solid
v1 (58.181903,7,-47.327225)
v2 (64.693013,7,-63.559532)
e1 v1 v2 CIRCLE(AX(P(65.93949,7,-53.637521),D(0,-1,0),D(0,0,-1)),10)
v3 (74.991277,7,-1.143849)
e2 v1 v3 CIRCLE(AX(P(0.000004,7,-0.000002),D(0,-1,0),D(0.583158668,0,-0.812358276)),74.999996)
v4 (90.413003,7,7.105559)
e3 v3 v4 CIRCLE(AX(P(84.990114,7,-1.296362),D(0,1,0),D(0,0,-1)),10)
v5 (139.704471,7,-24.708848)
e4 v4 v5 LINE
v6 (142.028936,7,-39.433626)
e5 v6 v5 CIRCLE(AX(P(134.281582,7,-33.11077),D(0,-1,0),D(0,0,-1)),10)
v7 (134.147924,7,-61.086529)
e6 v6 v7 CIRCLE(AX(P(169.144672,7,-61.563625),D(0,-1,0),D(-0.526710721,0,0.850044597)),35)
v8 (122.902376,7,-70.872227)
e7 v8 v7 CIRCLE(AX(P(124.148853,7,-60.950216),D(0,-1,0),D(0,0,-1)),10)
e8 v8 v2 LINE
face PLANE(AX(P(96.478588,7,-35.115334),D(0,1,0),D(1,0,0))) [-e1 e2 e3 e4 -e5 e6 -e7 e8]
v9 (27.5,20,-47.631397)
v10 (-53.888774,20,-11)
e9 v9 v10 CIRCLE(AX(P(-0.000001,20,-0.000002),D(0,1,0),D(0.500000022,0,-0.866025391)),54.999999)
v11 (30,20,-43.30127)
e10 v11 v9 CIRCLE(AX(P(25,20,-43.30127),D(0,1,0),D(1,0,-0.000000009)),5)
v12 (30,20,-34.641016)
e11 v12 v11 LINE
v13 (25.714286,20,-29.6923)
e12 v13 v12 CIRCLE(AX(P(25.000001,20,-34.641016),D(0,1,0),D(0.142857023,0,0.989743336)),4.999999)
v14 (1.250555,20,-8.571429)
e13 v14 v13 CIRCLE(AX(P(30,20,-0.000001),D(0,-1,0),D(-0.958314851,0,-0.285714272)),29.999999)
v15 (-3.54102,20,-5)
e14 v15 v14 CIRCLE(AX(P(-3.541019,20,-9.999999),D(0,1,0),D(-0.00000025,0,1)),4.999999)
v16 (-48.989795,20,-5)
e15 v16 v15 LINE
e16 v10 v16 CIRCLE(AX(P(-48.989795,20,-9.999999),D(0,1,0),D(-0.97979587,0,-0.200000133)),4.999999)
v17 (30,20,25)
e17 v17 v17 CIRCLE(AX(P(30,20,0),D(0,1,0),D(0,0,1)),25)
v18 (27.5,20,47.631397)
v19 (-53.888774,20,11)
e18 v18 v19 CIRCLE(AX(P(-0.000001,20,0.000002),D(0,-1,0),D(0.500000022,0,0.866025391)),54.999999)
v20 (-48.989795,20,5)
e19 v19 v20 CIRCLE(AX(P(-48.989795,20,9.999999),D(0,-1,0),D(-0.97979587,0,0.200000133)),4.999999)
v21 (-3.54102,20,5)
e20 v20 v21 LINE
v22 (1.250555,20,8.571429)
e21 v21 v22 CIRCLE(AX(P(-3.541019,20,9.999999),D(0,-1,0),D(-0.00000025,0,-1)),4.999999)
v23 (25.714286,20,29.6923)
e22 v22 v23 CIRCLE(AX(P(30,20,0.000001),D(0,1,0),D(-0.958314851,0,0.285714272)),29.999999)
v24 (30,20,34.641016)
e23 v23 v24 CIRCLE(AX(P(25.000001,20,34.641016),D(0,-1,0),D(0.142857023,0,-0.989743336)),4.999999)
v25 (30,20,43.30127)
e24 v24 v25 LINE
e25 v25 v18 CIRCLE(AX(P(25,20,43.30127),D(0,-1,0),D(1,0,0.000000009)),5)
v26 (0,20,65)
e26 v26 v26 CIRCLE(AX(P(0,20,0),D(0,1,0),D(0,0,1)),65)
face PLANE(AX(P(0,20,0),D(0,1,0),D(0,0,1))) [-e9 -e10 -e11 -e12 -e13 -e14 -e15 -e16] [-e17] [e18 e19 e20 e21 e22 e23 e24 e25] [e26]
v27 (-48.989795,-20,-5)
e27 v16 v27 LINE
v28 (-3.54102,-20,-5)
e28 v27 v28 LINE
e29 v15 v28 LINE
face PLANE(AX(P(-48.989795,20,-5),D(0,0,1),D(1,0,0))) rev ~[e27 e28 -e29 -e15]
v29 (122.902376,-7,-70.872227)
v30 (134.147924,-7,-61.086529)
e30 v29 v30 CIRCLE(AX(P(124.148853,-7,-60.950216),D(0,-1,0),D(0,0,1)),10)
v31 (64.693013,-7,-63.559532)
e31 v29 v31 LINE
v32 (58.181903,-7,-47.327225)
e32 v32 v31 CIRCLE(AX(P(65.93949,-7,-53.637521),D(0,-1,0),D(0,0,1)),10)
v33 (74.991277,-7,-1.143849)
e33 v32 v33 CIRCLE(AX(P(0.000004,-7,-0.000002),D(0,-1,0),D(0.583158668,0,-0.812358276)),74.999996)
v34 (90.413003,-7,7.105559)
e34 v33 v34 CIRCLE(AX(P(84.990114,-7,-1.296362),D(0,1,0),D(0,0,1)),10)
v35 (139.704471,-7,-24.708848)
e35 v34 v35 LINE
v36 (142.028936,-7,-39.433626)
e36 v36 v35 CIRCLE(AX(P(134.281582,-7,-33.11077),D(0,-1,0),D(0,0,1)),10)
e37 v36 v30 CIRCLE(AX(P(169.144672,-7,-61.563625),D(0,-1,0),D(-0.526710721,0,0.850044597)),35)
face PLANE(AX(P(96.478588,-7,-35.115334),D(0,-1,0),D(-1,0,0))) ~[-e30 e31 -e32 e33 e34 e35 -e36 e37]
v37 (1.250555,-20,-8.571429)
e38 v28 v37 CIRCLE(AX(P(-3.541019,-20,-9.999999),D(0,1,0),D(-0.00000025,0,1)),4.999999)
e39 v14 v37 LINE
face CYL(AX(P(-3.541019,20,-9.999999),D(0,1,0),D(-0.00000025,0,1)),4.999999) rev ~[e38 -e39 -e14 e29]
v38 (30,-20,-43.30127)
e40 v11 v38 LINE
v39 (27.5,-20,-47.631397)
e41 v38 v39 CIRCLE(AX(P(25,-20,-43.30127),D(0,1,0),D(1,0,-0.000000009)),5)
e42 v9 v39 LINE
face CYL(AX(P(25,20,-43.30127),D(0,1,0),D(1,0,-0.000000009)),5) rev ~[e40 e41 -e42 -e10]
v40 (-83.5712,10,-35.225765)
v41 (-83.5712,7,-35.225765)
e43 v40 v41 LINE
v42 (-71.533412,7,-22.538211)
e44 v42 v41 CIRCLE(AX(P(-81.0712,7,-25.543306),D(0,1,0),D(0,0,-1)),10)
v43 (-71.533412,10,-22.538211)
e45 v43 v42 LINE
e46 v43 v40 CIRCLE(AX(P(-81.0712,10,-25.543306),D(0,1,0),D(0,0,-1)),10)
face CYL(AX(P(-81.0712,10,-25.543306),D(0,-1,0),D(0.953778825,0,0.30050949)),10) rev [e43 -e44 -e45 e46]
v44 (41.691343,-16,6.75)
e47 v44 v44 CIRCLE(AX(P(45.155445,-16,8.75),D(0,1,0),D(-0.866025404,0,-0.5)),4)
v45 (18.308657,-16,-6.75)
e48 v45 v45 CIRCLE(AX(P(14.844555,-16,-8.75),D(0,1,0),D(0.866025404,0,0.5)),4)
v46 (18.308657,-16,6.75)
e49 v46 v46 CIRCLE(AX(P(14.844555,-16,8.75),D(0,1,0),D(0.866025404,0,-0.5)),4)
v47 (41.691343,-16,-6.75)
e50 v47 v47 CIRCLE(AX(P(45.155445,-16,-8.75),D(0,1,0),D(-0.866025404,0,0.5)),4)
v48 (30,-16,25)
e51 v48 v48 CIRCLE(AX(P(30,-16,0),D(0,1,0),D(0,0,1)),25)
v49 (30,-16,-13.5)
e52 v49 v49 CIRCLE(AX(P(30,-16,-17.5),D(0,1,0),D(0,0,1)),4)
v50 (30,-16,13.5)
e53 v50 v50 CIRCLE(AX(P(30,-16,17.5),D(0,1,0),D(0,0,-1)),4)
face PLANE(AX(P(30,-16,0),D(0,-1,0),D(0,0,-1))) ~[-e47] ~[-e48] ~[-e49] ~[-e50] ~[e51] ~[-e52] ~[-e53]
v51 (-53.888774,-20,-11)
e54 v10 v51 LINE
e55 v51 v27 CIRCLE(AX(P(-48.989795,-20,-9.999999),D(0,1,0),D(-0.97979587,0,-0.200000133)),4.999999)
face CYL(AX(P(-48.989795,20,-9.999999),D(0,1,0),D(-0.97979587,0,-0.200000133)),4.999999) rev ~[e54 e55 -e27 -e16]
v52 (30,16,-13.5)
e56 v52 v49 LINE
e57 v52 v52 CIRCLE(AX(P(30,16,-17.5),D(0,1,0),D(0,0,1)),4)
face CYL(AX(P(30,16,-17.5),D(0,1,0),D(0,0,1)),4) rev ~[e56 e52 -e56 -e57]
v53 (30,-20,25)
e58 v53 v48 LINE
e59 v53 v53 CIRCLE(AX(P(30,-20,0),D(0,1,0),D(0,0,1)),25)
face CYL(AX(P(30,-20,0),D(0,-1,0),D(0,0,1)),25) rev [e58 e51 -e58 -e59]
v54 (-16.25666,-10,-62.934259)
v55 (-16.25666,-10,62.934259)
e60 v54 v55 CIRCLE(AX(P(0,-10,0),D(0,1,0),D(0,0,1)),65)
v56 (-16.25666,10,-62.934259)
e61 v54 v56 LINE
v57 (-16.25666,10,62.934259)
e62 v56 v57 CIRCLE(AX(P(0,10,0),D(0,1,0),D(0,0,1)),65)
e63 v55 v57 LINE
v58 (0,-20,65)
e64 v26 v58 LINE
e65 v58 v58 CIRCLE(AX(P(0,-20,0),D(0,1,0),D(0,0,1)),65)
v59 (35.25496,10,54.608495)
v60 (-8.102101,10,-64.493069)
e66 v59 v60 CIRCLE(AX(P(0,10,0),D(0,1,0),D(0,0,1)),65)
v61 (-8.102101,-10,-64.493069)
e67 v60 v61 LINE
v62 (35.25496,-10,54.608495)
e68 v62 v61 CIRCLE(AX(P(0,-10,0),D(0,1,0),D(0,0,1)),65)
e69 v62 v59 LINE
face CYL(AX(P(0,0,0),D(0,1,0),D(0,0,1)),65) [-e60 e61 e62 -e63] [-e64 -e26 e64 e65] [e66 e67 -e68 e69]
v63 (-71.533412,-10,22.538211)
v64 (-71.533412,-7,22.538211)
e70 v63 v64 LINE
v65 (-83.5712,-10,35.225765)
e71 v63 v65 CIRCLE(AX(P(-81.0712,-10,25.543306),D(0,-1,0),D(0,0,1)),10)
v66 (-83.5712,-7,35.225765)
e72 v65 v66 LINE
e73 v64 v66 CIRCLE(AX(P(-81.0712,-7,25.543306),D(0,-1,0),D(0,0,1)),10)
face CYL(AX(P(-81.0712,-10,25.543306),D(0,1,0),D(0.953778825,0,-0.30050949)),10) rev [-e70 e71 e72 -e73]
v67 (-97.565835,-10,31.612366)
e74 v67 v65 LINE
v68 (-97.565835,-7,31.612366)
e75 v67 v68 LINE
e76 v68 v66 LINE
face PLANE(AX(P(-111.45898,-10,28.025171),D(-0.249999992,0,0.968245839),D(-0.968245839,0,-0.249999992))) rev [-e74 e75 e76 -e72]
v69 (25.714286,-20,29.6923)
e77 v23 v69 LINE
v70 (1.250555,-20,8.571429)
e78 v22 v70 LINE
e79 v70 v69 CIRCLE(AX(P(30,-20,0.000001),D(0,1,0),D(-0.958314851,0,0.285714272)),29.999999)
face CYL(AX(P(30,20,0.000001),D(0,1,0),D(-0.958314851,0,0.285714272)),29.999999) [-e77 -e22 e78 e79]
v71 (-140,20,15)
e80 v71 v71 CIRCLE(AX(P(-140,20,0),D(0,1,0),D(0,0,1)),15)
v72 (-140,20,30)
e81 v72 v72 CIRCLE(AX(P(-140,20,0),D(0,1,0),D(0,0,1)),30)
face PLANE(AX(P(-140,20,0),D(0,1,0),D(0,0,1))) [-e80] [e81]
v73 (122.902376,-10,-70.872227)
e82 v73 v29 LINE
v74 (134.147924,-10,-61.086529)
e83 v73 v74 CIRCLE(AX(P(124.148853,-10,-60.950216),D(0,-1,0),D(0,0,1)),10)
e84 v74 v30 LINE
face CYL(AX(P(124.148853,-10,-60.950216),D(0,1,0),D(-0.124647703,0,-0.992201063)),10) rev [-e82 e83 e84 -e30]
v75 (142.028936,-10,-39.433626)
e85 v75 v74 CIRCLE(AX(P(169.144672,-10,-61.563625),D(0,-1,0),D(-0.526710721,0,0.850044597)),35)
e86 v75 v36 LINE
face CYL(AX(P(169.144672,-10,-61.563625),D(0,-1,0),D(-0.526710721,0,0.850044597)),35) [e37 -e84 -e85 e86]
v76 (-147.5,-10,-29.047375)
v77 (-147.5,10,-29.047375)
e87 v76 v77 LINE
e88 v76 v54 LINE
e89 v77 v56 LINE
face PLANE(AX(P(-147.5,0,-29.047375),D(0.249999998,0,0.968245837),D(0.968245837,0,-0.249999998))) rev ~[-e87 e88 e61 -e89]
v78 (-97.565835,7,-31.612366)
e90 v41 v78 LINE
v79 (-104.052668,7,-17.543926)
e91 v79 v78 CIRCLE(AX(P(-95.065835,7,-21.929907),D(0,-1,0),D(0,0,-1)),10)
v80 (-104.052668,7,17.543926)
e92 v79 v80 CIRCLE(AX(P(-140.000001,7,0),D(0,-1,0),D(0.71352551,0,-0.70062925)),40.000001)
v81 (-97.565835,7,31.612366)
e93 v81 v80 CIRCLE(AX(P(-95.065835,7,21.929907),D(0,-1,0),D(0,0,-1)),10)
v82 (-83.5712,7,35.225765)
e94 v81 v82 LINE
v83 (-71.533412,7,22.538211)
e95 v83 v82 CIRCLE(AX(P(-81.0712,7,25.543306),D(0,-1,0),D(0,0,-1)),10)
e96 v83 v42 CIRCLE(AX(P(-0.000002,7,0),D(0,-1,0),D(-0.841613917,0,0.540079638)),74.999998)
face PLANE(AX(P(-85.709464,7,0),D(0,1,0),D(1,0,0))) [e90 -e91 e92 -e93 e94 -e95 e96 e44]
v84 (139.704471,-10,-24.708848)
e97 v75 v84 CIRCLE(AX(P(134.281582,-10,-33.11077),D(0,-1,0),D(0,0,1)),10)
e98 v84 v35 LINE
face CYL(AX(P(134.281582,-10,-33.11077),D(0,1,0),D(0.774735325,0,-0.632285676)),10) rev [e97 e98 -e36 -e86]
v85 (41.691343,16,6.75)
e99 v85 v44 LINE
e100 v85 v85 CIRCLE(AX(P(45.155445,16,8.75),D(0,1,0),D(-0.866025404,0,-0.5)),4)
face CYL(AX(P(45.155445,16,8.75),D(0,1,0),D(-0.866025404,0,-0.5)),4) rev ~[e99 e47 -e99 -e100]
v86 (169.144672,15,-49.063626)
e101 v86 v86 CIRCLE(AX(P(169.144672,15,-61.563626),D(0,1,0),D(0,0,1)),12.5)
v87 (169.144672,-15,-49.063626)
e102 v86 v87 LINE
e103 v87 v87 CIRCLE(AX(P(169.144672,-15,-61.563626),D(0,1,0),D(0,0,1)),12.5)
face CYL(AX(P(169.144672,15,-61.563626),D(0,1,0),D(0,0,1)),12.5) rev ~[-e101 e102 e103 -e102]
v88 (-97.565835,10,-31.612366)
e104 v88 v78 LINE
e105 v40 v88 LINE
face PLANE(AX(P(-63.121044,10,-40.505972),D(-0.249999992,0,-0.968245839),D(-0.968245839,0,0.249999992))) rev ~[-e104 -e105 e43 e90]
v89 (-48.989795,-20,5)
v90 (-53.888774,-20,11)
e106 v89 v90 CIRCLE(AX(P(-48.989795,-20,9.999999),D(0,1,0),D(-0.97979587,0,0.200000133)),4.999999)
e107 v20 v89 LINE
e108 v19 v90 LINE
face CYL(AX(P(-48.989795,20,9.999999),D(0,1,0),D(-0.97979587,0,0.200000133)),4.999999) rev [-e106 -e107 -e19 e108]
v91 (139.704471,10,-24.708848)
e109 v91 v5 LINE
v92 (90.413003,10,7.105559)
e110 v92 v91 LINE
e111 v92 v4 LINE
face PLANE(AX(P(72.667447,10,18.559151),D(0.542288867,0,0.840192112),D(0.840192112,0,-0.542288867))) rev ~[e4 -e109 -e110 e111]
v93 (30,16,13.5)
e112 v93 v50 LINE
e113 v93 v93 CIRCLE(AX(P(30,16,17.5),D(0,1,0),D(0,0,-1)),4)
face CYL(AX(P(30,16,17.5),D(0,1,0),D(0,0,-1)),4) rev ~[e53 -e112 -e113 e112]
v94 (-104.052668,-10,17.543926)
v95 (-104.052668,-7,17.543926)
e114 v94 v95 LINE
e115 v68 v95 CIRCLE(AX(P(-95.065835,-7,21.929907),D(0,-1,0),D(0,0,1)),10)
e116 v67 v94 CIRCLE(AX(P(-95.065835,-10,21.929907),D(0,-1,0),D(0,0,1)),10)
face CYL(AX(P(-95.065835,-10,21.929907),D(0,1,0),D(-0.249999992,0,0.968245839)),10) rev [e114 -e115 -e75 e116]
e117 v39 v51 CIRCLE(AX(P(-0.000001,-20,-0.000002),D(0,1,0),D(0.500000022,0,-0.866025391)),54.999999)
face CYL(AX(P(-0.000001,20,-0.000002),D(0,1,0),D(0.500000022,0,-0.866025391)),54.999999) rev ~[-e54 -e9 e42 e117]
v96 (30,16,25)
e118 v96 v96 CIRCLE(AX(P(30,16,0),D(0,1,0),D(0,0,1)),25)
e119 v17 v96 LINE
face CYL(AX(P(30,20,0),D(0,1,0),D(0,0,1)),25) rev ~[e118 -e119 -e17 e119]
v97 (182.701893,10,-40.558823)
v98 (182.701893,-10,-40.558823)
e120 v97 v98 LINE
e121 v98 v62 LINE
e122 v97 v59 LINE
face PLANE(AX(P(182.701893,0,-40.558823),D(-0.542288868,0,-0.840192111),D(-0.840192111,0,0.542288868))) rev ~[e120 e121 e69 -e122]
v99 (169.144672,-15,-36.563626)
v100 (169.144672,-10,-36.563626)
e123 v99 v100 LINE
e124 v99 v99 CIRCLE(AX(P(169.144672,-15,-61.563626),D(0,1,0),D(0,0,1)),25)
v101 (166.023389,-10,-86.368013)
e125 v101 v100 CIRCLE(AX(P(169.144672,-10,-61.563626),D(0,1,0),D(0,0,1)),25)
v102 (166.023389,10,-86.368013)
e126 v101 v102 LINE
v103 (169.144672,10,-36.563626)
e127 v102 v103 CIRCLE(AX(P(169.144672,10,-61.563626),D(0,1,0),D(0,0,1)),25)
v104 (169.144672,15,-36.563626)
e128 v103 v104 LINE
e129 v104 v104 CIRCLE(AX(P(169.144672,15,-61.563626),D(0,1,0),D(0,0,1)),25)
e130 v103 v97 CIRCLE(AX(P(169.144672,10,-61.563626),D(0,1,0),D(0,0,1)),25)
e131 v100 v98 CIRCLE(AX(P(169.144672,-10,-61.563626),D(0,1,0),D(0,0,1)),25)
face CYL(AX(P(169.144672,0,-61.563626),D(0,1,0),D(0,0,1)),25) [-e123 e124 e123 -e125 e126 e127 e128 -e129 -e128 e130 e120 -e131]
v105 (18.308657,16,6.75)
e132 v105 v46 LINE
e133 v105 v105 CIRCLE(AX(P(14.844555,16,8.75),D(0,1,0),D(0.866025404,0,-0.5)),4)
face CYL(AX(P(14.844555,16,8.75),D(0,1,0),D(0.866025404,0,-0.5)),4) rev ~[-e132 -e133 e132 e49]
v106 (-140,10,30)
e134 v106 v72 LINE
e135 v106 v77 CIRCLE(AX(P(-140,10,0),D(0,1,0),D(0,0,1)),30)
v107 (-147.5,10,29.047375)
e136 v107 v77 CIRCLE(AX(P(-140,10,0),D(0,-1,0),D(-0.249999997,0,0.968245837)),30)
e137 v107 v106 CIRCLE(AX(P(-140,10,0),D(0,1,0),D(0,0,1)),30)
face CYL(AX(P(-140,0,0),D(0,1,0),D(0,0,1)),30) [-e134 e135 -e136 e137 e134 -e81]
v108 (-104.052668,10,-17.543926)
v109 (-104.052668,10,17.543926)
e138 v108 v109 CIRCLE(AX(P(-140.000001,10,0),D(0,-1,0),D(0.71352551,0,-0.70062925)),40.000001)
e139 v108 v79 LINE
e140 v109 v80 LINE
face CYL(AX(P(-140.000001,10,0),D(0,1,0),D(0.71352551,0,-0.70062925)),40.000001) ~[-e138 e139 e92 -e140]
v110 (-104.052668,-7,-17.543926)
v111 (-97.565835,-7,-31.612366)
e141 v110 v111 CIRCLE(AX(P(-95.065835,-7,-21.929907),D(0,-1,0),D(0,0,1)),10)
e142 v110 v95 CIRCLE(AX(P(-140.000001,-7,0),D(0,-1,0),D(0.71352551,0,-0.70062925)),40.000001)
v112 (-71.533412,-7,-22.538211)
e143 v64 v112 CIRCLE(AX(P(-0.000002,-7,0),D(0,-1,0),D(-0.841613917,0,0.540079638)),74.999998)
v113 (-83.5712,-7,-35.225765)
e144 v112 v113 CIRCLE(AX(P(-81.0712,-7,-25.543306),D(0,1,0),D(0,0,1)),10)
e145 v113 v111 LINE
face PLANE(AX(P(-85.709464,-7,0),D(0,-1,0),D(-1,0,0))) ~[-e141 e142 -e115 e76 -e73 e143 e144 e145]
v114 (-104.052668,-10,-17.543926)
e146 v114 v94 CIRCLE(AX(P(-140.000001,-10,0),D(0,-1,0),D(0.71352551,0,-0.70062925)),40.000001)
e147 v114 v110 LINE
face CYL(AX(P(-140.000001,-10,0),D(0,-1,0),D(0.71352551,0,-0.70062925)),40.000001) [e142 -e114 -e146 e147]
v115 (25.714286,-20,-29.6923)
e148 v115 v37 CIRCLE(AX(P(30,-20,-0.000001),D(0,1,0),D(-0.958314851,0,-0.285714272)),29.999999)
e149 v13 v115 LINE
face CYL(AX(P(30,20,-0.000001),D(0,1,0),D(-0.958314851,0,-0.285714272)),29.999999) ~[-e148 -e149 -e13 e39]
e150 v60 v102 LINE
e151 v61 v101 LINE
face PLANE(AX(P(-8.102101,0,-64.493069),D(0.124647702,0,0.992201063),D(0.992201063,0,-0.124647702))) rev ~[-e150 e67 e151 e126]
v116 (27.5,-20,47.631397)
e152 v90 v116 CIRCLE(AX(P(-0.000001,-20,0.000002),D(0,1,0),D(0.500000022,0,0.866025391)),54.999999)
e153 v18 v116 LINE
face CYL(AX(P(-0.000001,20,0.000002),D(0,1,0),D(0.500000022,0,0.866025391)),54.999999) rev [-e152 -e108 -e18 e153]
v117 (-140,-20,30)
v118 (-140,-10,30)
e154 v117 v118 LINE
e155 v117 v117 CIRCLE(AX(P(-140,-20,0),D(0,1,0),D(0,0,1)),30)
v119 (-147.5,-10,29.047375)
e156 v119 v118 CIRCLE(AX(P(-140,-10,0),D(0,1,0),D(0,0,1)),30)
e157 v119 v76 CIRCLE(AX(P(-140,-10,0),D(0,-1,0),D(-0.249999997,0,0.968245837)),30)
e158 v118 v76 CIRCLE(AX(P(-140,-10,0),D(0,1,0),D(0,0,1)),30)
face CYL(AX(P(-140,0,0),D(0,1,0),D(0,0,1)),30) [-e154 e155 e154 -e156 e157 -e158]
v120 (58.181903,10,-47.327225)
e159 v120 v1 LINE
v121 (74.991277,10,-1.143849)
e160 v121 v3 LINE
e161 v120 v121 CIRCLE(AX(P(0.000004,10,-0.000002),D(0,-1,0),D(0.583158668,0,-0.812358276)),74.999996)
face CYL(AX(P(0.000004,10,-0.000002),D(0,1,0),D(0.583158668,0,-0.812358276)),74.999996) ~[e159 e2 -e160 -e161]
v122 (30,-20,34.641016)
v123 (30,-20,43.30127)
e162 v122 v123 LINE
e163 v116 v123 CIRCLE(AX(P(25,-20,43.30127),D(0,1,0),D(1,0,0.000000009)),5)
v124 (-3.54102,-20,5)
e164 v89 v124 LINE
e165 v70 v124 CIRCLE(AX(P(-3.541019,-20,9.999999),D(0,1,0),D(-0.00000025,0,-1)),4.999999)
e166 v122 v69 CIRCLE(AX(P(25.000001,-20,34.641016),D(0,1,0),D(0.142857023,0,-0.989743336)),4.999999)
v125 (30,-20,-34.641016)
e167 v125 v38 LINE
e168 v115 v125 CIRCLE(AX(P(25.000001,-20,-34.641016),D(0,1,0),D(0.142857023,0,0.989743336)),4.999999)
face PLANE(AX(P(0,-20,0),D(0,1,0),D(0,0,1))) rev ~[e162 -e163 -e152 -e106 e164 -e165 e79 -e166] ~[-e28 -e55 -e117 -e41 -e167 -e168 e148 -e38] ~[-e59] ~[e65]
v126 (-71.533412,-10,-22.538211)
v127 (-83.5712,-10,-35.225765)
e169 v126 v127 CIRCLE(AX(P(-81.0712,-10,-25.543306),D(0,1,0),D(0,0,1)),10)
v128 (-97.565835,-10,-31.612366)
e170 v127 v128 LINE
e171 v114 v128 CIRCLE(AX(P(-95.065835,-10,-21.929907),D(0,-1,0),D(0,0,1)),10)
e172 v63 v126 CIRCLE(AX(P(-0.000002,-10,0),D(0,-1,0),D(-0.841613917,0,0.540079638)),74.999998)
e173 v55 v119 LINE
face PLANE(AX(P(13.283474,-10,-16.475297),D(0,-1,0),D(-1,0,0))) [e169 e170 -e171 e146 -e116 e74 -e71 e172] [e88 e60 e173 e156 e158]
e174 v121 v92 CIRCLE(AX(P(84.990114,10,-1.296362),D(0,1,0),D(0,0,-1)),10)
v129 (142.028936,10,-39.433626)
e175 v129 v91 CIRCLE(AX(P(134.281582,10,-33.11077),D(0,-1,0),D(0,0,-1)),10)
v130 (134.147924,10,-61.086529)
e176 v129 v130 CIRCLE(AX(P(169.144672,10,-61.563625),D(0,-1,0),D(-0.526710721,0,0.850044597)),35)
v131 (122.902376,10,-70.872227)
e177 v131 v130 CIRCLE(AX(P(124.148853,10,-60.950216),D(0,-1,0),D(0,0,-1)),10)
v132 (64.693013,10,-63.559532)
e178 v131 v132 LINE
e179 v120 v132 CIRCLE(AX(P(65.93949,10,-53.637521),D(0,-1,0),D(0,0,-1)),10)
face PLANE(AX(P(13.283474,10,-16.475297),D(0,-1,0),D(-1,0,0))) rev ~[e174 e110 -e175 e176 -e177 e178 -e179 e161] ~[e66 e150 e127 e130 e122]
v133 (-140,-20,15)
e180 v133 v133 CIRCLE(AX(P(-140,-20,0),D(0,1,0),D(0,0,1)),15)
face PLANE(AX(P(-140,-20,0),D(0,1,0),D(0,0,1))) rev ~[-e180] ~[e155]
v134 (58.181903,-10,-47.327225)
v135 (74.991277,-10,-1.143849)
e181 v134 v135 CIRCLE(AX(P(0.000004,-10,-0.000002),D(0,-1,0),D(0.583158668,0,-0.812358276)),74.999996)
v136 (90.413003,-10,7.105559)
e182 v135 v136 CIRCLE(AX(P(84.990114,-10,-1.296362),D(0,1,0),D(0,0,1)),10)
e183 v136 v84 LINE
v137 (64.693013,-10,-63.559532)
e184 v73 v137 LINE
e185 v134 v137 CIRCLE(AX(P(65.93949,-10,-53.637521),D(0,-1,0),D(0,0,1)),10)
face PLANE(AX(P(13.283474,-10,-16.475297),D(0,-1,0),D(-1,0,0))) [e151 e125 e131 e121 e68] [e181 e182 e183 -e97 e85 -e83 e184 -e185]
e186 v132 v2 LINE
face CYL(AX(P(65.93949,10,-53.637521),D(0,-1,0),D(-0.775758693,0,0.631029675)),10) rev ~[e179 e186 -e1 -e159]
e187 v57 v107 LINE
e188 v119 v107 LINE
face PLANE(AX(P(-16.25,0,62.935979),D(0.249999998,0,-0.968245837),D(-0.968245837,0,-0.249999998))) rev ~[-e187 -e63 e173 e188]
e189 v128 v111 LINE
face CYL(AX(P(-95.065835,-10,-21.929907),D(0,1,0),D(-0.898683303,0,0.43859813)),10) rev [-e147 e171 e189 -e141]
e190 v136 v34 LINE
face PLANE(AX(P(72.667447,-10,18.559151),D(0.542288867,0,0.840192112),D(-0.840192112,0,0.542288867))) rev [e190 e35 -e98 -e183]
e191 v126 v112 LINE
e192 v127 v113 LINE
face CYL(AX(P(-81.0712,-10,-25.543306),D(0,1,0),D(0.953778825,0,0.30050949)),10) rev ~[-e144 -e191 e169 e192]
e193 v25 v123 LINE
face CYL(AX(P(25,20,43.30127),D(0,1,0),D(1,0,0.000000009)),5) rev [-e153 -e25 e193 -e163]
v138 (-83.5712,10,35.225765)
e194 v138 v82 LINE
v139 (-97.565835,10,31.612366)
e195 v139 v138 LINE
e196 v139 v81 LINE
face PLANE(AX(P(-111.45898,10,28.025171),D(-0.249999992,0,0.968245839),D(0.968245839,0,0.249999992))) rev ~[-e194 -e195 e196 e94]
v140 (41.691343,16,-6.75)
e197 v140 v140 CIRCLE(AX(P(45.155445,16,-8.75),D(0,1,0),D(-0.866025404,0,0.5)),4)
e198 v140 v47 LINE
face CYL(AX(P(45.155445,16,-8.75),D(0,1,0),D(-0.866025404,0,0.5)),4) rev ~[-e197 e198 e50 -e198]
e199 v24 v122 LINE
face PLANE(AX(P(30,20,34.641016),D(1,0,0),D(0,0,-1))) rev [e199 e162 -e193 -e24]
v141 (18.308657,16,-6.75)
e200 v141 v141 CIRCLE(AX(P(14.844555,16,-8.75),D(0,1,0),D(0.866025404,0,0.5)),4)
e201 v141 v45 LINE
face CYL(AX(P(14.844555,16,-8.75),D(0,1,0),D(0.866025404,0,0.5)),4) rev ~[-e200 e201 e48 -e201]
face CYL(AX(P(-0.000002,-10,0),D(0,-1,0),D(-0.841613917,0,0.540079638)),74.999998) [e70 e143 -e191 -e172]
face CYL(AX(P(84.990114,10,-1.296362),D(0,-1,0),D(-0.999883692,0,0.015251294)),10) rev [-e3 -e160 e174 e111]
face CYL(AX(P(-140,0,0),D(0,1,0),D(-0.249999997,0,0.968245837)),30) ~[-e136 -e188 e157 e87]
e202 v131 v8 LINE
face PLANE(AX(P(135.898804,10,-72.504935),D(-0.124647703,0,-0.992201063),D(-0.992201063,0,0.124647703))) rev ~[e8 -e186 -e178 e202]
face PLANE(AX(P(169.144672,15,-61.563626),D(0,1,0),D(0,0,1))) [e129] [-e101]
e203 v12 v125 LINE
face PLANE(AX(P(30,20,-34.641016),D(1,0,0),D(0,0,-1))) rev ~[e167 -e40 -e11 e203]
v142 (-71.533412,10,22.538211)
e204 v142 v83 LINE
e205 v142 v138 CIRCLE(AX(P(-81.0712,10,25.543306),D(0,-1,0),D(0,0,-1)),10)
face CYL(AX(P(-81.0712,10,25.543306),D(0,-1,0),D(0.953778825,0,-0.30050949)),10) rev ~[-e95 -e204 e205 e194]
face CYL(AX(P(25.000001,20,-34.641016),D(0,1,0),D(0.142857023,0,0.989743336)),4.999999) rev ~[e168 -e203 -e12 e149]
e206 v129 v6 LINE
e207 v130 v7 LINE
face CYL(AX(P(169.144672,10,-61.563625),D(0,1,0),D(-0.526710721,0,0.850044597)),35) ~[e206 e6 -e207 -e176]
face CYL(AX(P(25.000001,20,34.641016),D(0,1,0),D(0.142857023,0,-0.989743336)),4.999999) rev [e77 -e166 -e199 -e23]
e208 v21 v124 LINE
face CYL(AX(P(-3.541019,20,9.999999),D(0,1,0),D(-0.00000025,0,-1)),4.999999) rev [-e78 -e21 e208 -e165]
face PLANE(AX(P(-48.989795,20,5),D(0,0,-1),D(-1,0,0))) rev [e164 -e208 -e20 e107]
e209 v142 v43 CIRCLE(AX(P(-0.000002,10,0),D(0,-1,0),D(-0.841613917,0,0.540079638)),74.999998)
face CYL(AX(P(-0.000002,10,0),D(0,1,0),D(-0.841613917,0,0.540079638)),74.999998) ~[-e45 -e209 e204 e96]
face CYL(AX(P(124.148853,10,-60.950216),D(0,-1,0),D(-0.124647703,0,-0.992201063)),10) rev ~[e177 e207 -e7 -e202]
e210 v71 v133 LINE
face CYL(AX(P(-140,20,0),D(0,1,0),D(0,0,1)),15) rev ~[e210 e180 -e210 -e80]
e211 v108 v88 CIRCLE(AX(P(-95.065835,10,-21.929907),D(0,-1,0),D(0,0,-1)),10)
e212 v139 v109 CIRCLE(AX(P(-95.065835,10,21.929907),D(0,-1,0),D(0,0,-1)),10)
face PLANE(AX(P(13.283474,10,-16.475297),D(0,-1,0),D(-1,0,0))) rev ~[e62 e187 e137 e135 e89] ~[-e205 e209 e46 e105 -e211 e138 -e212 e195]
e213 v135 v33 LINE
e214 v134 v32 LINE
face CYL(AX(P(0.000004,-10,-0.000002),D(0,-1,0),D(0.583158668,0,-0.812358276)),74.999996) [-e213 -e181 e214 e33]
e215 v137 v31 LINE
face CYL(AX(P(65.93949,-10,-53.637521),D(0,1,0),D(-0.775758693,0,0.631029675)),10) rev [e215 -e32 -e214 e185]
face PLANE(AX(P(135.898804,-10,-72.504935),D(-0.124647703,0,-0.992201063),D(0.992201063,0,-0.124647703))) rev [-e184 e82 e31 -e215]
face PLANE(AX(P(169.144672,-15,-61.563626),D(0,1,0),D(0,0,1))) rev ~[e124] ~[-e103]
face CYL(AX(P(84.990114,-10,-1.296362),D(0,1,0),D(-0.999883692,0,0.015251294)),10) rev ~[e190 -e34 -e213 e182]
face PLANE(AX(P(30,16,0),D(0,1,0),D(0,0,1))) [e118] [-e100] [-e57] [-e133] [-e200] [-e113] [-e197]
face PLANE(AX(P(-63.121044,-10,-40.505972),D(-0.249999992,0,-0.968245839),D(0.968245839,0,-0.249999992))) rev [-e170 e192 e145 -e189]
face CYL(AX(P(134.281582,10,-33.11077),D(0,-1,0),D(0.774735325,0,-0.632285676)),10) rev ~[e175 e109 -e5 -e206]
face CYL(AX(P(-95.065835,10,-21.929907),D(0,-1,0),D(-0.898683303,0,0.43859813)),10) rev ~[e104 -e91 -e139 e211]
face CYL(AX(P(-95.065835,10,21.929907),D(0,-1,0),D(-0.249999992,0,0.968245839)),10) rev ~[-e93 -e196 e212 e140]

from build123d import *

# Parameters (mm, degrees)
BOSS_EXTRUDE1_DEPTH  = 10
SKETCH2_R            = 65
BOSS_EXTRUDE2_DEPTH  = 20
SKETCH3_R            = 30
BOSS_EXTRUDE3_DEPTH  = 20
SKETCH5_R            = 25
BOSS_EXTRUDE4_DEPTH  = 15
CUT_EXTRUDE1_DEPTH   = 41
SKETCH8_R            = 25
CUT_EXTRUDE3_DEPTH   = 4
SKETCH9_R            = 4
CUT_EXTRUDE4_DEPTH   = 37
CIRPATTERN1_COUNT    = 6
SKETCH10_R           = 15
CUT_EXTRUDE5_DEPTH   = 41
SKETCH11_R           = 12.5
CUT_EXTRUDE6_DEPTH   = 36
CUT_EXTRUDE7_DEPTH   = 3
FILLET1_R            = 10
FILLET1_OF_MIRROR3_R = 10


with BuildPart() as part:
    # Sketch1 → Boss-Extrude1 (new body, symmetric)
    with BuildSketch(Plane(origin=(0, 0, 0), x_dir=(1, 0, 0), z_dir=(0, 1, 0))):
        with BuildLine():
            Line((-147.5, 29.047375), (-16.25, 62.935979))
            ThreePointArc((-16.25, 62.935979), (-12.200915, 63.844637), (-8.102101, 64.493069))
            Line((-8.102101, 64.493069), (166.028479, 86.368652))
            ThreePointArc((166.028479, 86.368652), (192.636987, 70.114129), (182.701893, 40.558823))
            Line((182.701893, 40.558823), (35.248776, -54.612487))
            ThreePointArc((35.248776, -54.612487), (10.371042, -64.167293), (-16.25, -62.935979))
            Line((-16.25, -62.935979), (-147.5, -29.047375))
            ThreePointArc((-147.5, -29.047375), (-170, 0), (-147.5, 29.047375))
        make_face()
    extrude(amount=BOSS_EXTRUDE1_DEPTH, both=True)

    # Sketch2 → Boss-Extrude2 (add, symmetric)
    with BuildSketch(Plane(origin=(0, 0, 0), x_dir=(1, 0, 0), z_dir=(0, 1, 0))):
        with Locations(Location((0, 0, 0), (0, 0, 270))):  # turned: the seam where the file's is
            Circle(SKETCH2_R)
    extrude(amount=BOSS_EXTRUDE2_DEPTH, both=True)

    # Sketch3 → Boss-Extrude3 (add, symmetric)
    with BuildSketch(Plane(origin=(0, 0, 0), x_dir=(1, 0, 0), z_dir=(0, 1, 0))):
        with Locations(Location((-140, 0, 0), (0, 0, 270))):  # turned: the seam where the file's is
            Circle(SKETCH3_R)
    extrude(amount=BOSS_EXTRUDE3_DEPTH, both=True)

    # Sketch5 → Boss-Extrude4 (add, symmetric)
    with BuildSketch(Plane(origin=(0, 0, 0), x_dir=(1, 0, 0), z_dir=(0, 1, 0))):
        with Locations(Location((169.144672, 61.563626, 0), (0, 0, 270))):  # turned: the seam where the file's is
            Circle(SKETCH5_R)
    extrude(amount=BOSS_EXTRUDE4_DEPTH, both=True)

    # Sketch6 → Cut-Extrude1 (cut, through all)
    with BuildSketch(Plane(origin=(0, 20, 0), x_dir=(1, 0, 0), z_dir=(0, 1, 0))):
        with BuildLine():
            Line((-48.989795, 5), (-3.54102, 5))
            ThreePointArc((-3.54102, 5), (-0.552948, 5.991081), (1.250555, 8.571429))
            ThreePointArc((1.250555, 8.571429), (10.395071, 22.707857), (25.714286, 29.6923))
            ThreePointArc((25.714286, 29.6923), (28.779645, 31.367748), (30, 34.641016))
            Line((30, 34.641016), (30, 43.30127))
            ThreePointArc((30, 43.30127), (29.330127, 45.80127), (27.5, 47.631397))
            ThreePointArc((27.5, 47.631397), (-22.573362, 50.154196), (-53.888774, 11))
            ThreePointArc((-53.888774, 11), (-52.862778, 6.837722), (-48.989795, 5))
        make_face()
    cut_extrude1 = extrude(amount=-CUT_EXTRUDE1_DEPTH, mode=Mode.SUBTRACT)

    # Mirror1: Cut-Extrude1 across plane
    add(cut_extrude1.mirror(Plane.XY), mode=Mode.SUBTRACT)

    # Sketch8 → Cut-Extrude3 (cut)
    with BuildSketch(Plane(origin=(0, 20, 0), x_dir=(1, 0, 0), z_dir=(0, 1, 0))):
        with Locations(Location((30, 0, 0), (0, 0, 270))):  # turned: the seam where the file's is
            Circle(SKETCH8_R)
    cut_extrude3 = extrude(amount=-CUT_EXTRUDE3_DEPTH, mode=Mode.SUBTRACT)

    # Mirror2: Cut-Extrude3 across plane
    add(cut_extrude3.mirror(Plane.ZX), mode=Mode.SUBTRACT)

    # Sketch9 → Cut-Extrude4 (cut, through all)
    with BuildSketch(Plane(origin=(0, 16, 0), x_dir=(1, 0, 0), z_dir=(0, 1, 0))):
        with Locations(Location((30, 17.5, 0), (0, 0, 270))):  # turned: the seam where the file's is
            Circle(SKETCH9_R)
    cut_extrude4 = extrude(amount=-CUT_EXTRUDE4_DEPTH, mode=Mode.SUBTRACT)

    # CirPattern1: Cut-Extrude4 ×6 about axis
    cirpattern1_axis = Axis((30, 0, 0), (0, 1, 0))
    for i in range(1, CIRPATTERN1_COUNT):
        add(cut_extrude4.rotate(cirpattern1_axis, i * 360 / CIRPATTERN1_COUNT), mode=Mode.SUBTRACT)

    # Sketch10 → Cut-Extrude5 (cut, through all)
    with BuildSketch(Plane(origin=(0, 20, 0), x_dir=(1, 0, 0), z_dir=(0, 1, 0))):
        with Locations(Location((-140, 0, 0), (0, 0, 270))):  # turned: the seam where the file's is
            Circle(SKETCH10_R)
    extrude(amount=-CUT_EXTRUDE5_DEPTH, mode=Mode.SUBTRACT)

    # Sketch11 → Cut-Extrude6 (cut, through all)
    with BuildSketch(Plane(origin=(0, 15, 0), x_dir=(1, 0, 0), z_dir=(0, 1, 0))):
        with Locations(Location((169.144672, 61.563626, 0), (0, 0, 270))):  # turned: the seam where the file's is
            Circle(SKETCH11_R)
    extrude(amount=-CUT_EXTRUDE6_DEPTH, mode=Mode.SUBTRACT)

    # Sketch12 → Cut-Extrude7 (cut)
    with BuildSketch(Plane(origin=(0, 10, 0), x_dir=(1, 0, 0), z_dir=(0, 1, 0))):
        with BuildLine():
            Line((72.667447, -18.559151), (150.709797, 31.812064))
            ThreePointArc((150.709797, 31.812064), (136.25543, 49.592921), (135.898804, 72.504935))
            Line((135.898804, 72.504935), (43.736902, 60.926869))
            ThreePointArc((43.736902, 60.926869), (70.476947, 25.651511), (72.667447, -18.559151))
        make_face()
        with BuildLine():
            Line((-63.121044, 40.505972), (-111.45898, 28.025171))
            ThreePointArc((-111.45898, 28.025171), (-100, 0), (-111.45898, -28.025171))
            Line((-111.45898, -28.025171), (-63.121044, -40.505972))
            ThreePointArc((-63.121044, -40.505972), (-75, 0), (-63.121044, 40.505972))
        make_face()
    cut_extrude7 = extrude(amount=-CUT_EXTRUDE7_DEPTH, mode=Mode.SUBTRACT)

    # Fillet1
    fillet1_edges = [part.edges().sort_by_distance(p)[0] for p in [
        (-63.121044, 8.5, -40.505972),
        (-63.121044, 8.5, 40.505972),
        (-111.45898, 8.5, 28.025171),
        (-111.45898, 8.5, -28.025171),
        (72.667447, 8.5, 18.559151),
        (43.736902, 8.5, -60.926869),
        (135.898804, 8.5, -72.504935),
        (150.709797, 8.5, -31.812064),
    ]]
    fillet(fillet1_edges, radius=FILLET1_R)

    # Mirror3: Cut-Extrude7 across plane
    add(cut_extrude7.mirror(Plane.ZX), mode=Mode.SUBTRACT)

    # Fillet1 of Mirror3
    fillet1_of_mirror3_edges = [part.edges().sort_by_distance(p)[0] for p in [
        (-63.121044, -8.5, -40.505972),
        (-63.121044, -8.5, 40.505972),
        (-111.45898, -8.5, 28.025171),
        (-111.45898, -8.5, -28.025171),
        (72.667447, -8.5, 18.559151),
        (43.736902, -8.5, -60.926869),
        (135.898804, -8.5, -72.504935),
        (150.709797, -8.5, -31.812064),
    ]]
    fillet(fillet1_of_mirror3_edges, radius=FILLET1_OF_MIRROR3_R)


solid = part.part
